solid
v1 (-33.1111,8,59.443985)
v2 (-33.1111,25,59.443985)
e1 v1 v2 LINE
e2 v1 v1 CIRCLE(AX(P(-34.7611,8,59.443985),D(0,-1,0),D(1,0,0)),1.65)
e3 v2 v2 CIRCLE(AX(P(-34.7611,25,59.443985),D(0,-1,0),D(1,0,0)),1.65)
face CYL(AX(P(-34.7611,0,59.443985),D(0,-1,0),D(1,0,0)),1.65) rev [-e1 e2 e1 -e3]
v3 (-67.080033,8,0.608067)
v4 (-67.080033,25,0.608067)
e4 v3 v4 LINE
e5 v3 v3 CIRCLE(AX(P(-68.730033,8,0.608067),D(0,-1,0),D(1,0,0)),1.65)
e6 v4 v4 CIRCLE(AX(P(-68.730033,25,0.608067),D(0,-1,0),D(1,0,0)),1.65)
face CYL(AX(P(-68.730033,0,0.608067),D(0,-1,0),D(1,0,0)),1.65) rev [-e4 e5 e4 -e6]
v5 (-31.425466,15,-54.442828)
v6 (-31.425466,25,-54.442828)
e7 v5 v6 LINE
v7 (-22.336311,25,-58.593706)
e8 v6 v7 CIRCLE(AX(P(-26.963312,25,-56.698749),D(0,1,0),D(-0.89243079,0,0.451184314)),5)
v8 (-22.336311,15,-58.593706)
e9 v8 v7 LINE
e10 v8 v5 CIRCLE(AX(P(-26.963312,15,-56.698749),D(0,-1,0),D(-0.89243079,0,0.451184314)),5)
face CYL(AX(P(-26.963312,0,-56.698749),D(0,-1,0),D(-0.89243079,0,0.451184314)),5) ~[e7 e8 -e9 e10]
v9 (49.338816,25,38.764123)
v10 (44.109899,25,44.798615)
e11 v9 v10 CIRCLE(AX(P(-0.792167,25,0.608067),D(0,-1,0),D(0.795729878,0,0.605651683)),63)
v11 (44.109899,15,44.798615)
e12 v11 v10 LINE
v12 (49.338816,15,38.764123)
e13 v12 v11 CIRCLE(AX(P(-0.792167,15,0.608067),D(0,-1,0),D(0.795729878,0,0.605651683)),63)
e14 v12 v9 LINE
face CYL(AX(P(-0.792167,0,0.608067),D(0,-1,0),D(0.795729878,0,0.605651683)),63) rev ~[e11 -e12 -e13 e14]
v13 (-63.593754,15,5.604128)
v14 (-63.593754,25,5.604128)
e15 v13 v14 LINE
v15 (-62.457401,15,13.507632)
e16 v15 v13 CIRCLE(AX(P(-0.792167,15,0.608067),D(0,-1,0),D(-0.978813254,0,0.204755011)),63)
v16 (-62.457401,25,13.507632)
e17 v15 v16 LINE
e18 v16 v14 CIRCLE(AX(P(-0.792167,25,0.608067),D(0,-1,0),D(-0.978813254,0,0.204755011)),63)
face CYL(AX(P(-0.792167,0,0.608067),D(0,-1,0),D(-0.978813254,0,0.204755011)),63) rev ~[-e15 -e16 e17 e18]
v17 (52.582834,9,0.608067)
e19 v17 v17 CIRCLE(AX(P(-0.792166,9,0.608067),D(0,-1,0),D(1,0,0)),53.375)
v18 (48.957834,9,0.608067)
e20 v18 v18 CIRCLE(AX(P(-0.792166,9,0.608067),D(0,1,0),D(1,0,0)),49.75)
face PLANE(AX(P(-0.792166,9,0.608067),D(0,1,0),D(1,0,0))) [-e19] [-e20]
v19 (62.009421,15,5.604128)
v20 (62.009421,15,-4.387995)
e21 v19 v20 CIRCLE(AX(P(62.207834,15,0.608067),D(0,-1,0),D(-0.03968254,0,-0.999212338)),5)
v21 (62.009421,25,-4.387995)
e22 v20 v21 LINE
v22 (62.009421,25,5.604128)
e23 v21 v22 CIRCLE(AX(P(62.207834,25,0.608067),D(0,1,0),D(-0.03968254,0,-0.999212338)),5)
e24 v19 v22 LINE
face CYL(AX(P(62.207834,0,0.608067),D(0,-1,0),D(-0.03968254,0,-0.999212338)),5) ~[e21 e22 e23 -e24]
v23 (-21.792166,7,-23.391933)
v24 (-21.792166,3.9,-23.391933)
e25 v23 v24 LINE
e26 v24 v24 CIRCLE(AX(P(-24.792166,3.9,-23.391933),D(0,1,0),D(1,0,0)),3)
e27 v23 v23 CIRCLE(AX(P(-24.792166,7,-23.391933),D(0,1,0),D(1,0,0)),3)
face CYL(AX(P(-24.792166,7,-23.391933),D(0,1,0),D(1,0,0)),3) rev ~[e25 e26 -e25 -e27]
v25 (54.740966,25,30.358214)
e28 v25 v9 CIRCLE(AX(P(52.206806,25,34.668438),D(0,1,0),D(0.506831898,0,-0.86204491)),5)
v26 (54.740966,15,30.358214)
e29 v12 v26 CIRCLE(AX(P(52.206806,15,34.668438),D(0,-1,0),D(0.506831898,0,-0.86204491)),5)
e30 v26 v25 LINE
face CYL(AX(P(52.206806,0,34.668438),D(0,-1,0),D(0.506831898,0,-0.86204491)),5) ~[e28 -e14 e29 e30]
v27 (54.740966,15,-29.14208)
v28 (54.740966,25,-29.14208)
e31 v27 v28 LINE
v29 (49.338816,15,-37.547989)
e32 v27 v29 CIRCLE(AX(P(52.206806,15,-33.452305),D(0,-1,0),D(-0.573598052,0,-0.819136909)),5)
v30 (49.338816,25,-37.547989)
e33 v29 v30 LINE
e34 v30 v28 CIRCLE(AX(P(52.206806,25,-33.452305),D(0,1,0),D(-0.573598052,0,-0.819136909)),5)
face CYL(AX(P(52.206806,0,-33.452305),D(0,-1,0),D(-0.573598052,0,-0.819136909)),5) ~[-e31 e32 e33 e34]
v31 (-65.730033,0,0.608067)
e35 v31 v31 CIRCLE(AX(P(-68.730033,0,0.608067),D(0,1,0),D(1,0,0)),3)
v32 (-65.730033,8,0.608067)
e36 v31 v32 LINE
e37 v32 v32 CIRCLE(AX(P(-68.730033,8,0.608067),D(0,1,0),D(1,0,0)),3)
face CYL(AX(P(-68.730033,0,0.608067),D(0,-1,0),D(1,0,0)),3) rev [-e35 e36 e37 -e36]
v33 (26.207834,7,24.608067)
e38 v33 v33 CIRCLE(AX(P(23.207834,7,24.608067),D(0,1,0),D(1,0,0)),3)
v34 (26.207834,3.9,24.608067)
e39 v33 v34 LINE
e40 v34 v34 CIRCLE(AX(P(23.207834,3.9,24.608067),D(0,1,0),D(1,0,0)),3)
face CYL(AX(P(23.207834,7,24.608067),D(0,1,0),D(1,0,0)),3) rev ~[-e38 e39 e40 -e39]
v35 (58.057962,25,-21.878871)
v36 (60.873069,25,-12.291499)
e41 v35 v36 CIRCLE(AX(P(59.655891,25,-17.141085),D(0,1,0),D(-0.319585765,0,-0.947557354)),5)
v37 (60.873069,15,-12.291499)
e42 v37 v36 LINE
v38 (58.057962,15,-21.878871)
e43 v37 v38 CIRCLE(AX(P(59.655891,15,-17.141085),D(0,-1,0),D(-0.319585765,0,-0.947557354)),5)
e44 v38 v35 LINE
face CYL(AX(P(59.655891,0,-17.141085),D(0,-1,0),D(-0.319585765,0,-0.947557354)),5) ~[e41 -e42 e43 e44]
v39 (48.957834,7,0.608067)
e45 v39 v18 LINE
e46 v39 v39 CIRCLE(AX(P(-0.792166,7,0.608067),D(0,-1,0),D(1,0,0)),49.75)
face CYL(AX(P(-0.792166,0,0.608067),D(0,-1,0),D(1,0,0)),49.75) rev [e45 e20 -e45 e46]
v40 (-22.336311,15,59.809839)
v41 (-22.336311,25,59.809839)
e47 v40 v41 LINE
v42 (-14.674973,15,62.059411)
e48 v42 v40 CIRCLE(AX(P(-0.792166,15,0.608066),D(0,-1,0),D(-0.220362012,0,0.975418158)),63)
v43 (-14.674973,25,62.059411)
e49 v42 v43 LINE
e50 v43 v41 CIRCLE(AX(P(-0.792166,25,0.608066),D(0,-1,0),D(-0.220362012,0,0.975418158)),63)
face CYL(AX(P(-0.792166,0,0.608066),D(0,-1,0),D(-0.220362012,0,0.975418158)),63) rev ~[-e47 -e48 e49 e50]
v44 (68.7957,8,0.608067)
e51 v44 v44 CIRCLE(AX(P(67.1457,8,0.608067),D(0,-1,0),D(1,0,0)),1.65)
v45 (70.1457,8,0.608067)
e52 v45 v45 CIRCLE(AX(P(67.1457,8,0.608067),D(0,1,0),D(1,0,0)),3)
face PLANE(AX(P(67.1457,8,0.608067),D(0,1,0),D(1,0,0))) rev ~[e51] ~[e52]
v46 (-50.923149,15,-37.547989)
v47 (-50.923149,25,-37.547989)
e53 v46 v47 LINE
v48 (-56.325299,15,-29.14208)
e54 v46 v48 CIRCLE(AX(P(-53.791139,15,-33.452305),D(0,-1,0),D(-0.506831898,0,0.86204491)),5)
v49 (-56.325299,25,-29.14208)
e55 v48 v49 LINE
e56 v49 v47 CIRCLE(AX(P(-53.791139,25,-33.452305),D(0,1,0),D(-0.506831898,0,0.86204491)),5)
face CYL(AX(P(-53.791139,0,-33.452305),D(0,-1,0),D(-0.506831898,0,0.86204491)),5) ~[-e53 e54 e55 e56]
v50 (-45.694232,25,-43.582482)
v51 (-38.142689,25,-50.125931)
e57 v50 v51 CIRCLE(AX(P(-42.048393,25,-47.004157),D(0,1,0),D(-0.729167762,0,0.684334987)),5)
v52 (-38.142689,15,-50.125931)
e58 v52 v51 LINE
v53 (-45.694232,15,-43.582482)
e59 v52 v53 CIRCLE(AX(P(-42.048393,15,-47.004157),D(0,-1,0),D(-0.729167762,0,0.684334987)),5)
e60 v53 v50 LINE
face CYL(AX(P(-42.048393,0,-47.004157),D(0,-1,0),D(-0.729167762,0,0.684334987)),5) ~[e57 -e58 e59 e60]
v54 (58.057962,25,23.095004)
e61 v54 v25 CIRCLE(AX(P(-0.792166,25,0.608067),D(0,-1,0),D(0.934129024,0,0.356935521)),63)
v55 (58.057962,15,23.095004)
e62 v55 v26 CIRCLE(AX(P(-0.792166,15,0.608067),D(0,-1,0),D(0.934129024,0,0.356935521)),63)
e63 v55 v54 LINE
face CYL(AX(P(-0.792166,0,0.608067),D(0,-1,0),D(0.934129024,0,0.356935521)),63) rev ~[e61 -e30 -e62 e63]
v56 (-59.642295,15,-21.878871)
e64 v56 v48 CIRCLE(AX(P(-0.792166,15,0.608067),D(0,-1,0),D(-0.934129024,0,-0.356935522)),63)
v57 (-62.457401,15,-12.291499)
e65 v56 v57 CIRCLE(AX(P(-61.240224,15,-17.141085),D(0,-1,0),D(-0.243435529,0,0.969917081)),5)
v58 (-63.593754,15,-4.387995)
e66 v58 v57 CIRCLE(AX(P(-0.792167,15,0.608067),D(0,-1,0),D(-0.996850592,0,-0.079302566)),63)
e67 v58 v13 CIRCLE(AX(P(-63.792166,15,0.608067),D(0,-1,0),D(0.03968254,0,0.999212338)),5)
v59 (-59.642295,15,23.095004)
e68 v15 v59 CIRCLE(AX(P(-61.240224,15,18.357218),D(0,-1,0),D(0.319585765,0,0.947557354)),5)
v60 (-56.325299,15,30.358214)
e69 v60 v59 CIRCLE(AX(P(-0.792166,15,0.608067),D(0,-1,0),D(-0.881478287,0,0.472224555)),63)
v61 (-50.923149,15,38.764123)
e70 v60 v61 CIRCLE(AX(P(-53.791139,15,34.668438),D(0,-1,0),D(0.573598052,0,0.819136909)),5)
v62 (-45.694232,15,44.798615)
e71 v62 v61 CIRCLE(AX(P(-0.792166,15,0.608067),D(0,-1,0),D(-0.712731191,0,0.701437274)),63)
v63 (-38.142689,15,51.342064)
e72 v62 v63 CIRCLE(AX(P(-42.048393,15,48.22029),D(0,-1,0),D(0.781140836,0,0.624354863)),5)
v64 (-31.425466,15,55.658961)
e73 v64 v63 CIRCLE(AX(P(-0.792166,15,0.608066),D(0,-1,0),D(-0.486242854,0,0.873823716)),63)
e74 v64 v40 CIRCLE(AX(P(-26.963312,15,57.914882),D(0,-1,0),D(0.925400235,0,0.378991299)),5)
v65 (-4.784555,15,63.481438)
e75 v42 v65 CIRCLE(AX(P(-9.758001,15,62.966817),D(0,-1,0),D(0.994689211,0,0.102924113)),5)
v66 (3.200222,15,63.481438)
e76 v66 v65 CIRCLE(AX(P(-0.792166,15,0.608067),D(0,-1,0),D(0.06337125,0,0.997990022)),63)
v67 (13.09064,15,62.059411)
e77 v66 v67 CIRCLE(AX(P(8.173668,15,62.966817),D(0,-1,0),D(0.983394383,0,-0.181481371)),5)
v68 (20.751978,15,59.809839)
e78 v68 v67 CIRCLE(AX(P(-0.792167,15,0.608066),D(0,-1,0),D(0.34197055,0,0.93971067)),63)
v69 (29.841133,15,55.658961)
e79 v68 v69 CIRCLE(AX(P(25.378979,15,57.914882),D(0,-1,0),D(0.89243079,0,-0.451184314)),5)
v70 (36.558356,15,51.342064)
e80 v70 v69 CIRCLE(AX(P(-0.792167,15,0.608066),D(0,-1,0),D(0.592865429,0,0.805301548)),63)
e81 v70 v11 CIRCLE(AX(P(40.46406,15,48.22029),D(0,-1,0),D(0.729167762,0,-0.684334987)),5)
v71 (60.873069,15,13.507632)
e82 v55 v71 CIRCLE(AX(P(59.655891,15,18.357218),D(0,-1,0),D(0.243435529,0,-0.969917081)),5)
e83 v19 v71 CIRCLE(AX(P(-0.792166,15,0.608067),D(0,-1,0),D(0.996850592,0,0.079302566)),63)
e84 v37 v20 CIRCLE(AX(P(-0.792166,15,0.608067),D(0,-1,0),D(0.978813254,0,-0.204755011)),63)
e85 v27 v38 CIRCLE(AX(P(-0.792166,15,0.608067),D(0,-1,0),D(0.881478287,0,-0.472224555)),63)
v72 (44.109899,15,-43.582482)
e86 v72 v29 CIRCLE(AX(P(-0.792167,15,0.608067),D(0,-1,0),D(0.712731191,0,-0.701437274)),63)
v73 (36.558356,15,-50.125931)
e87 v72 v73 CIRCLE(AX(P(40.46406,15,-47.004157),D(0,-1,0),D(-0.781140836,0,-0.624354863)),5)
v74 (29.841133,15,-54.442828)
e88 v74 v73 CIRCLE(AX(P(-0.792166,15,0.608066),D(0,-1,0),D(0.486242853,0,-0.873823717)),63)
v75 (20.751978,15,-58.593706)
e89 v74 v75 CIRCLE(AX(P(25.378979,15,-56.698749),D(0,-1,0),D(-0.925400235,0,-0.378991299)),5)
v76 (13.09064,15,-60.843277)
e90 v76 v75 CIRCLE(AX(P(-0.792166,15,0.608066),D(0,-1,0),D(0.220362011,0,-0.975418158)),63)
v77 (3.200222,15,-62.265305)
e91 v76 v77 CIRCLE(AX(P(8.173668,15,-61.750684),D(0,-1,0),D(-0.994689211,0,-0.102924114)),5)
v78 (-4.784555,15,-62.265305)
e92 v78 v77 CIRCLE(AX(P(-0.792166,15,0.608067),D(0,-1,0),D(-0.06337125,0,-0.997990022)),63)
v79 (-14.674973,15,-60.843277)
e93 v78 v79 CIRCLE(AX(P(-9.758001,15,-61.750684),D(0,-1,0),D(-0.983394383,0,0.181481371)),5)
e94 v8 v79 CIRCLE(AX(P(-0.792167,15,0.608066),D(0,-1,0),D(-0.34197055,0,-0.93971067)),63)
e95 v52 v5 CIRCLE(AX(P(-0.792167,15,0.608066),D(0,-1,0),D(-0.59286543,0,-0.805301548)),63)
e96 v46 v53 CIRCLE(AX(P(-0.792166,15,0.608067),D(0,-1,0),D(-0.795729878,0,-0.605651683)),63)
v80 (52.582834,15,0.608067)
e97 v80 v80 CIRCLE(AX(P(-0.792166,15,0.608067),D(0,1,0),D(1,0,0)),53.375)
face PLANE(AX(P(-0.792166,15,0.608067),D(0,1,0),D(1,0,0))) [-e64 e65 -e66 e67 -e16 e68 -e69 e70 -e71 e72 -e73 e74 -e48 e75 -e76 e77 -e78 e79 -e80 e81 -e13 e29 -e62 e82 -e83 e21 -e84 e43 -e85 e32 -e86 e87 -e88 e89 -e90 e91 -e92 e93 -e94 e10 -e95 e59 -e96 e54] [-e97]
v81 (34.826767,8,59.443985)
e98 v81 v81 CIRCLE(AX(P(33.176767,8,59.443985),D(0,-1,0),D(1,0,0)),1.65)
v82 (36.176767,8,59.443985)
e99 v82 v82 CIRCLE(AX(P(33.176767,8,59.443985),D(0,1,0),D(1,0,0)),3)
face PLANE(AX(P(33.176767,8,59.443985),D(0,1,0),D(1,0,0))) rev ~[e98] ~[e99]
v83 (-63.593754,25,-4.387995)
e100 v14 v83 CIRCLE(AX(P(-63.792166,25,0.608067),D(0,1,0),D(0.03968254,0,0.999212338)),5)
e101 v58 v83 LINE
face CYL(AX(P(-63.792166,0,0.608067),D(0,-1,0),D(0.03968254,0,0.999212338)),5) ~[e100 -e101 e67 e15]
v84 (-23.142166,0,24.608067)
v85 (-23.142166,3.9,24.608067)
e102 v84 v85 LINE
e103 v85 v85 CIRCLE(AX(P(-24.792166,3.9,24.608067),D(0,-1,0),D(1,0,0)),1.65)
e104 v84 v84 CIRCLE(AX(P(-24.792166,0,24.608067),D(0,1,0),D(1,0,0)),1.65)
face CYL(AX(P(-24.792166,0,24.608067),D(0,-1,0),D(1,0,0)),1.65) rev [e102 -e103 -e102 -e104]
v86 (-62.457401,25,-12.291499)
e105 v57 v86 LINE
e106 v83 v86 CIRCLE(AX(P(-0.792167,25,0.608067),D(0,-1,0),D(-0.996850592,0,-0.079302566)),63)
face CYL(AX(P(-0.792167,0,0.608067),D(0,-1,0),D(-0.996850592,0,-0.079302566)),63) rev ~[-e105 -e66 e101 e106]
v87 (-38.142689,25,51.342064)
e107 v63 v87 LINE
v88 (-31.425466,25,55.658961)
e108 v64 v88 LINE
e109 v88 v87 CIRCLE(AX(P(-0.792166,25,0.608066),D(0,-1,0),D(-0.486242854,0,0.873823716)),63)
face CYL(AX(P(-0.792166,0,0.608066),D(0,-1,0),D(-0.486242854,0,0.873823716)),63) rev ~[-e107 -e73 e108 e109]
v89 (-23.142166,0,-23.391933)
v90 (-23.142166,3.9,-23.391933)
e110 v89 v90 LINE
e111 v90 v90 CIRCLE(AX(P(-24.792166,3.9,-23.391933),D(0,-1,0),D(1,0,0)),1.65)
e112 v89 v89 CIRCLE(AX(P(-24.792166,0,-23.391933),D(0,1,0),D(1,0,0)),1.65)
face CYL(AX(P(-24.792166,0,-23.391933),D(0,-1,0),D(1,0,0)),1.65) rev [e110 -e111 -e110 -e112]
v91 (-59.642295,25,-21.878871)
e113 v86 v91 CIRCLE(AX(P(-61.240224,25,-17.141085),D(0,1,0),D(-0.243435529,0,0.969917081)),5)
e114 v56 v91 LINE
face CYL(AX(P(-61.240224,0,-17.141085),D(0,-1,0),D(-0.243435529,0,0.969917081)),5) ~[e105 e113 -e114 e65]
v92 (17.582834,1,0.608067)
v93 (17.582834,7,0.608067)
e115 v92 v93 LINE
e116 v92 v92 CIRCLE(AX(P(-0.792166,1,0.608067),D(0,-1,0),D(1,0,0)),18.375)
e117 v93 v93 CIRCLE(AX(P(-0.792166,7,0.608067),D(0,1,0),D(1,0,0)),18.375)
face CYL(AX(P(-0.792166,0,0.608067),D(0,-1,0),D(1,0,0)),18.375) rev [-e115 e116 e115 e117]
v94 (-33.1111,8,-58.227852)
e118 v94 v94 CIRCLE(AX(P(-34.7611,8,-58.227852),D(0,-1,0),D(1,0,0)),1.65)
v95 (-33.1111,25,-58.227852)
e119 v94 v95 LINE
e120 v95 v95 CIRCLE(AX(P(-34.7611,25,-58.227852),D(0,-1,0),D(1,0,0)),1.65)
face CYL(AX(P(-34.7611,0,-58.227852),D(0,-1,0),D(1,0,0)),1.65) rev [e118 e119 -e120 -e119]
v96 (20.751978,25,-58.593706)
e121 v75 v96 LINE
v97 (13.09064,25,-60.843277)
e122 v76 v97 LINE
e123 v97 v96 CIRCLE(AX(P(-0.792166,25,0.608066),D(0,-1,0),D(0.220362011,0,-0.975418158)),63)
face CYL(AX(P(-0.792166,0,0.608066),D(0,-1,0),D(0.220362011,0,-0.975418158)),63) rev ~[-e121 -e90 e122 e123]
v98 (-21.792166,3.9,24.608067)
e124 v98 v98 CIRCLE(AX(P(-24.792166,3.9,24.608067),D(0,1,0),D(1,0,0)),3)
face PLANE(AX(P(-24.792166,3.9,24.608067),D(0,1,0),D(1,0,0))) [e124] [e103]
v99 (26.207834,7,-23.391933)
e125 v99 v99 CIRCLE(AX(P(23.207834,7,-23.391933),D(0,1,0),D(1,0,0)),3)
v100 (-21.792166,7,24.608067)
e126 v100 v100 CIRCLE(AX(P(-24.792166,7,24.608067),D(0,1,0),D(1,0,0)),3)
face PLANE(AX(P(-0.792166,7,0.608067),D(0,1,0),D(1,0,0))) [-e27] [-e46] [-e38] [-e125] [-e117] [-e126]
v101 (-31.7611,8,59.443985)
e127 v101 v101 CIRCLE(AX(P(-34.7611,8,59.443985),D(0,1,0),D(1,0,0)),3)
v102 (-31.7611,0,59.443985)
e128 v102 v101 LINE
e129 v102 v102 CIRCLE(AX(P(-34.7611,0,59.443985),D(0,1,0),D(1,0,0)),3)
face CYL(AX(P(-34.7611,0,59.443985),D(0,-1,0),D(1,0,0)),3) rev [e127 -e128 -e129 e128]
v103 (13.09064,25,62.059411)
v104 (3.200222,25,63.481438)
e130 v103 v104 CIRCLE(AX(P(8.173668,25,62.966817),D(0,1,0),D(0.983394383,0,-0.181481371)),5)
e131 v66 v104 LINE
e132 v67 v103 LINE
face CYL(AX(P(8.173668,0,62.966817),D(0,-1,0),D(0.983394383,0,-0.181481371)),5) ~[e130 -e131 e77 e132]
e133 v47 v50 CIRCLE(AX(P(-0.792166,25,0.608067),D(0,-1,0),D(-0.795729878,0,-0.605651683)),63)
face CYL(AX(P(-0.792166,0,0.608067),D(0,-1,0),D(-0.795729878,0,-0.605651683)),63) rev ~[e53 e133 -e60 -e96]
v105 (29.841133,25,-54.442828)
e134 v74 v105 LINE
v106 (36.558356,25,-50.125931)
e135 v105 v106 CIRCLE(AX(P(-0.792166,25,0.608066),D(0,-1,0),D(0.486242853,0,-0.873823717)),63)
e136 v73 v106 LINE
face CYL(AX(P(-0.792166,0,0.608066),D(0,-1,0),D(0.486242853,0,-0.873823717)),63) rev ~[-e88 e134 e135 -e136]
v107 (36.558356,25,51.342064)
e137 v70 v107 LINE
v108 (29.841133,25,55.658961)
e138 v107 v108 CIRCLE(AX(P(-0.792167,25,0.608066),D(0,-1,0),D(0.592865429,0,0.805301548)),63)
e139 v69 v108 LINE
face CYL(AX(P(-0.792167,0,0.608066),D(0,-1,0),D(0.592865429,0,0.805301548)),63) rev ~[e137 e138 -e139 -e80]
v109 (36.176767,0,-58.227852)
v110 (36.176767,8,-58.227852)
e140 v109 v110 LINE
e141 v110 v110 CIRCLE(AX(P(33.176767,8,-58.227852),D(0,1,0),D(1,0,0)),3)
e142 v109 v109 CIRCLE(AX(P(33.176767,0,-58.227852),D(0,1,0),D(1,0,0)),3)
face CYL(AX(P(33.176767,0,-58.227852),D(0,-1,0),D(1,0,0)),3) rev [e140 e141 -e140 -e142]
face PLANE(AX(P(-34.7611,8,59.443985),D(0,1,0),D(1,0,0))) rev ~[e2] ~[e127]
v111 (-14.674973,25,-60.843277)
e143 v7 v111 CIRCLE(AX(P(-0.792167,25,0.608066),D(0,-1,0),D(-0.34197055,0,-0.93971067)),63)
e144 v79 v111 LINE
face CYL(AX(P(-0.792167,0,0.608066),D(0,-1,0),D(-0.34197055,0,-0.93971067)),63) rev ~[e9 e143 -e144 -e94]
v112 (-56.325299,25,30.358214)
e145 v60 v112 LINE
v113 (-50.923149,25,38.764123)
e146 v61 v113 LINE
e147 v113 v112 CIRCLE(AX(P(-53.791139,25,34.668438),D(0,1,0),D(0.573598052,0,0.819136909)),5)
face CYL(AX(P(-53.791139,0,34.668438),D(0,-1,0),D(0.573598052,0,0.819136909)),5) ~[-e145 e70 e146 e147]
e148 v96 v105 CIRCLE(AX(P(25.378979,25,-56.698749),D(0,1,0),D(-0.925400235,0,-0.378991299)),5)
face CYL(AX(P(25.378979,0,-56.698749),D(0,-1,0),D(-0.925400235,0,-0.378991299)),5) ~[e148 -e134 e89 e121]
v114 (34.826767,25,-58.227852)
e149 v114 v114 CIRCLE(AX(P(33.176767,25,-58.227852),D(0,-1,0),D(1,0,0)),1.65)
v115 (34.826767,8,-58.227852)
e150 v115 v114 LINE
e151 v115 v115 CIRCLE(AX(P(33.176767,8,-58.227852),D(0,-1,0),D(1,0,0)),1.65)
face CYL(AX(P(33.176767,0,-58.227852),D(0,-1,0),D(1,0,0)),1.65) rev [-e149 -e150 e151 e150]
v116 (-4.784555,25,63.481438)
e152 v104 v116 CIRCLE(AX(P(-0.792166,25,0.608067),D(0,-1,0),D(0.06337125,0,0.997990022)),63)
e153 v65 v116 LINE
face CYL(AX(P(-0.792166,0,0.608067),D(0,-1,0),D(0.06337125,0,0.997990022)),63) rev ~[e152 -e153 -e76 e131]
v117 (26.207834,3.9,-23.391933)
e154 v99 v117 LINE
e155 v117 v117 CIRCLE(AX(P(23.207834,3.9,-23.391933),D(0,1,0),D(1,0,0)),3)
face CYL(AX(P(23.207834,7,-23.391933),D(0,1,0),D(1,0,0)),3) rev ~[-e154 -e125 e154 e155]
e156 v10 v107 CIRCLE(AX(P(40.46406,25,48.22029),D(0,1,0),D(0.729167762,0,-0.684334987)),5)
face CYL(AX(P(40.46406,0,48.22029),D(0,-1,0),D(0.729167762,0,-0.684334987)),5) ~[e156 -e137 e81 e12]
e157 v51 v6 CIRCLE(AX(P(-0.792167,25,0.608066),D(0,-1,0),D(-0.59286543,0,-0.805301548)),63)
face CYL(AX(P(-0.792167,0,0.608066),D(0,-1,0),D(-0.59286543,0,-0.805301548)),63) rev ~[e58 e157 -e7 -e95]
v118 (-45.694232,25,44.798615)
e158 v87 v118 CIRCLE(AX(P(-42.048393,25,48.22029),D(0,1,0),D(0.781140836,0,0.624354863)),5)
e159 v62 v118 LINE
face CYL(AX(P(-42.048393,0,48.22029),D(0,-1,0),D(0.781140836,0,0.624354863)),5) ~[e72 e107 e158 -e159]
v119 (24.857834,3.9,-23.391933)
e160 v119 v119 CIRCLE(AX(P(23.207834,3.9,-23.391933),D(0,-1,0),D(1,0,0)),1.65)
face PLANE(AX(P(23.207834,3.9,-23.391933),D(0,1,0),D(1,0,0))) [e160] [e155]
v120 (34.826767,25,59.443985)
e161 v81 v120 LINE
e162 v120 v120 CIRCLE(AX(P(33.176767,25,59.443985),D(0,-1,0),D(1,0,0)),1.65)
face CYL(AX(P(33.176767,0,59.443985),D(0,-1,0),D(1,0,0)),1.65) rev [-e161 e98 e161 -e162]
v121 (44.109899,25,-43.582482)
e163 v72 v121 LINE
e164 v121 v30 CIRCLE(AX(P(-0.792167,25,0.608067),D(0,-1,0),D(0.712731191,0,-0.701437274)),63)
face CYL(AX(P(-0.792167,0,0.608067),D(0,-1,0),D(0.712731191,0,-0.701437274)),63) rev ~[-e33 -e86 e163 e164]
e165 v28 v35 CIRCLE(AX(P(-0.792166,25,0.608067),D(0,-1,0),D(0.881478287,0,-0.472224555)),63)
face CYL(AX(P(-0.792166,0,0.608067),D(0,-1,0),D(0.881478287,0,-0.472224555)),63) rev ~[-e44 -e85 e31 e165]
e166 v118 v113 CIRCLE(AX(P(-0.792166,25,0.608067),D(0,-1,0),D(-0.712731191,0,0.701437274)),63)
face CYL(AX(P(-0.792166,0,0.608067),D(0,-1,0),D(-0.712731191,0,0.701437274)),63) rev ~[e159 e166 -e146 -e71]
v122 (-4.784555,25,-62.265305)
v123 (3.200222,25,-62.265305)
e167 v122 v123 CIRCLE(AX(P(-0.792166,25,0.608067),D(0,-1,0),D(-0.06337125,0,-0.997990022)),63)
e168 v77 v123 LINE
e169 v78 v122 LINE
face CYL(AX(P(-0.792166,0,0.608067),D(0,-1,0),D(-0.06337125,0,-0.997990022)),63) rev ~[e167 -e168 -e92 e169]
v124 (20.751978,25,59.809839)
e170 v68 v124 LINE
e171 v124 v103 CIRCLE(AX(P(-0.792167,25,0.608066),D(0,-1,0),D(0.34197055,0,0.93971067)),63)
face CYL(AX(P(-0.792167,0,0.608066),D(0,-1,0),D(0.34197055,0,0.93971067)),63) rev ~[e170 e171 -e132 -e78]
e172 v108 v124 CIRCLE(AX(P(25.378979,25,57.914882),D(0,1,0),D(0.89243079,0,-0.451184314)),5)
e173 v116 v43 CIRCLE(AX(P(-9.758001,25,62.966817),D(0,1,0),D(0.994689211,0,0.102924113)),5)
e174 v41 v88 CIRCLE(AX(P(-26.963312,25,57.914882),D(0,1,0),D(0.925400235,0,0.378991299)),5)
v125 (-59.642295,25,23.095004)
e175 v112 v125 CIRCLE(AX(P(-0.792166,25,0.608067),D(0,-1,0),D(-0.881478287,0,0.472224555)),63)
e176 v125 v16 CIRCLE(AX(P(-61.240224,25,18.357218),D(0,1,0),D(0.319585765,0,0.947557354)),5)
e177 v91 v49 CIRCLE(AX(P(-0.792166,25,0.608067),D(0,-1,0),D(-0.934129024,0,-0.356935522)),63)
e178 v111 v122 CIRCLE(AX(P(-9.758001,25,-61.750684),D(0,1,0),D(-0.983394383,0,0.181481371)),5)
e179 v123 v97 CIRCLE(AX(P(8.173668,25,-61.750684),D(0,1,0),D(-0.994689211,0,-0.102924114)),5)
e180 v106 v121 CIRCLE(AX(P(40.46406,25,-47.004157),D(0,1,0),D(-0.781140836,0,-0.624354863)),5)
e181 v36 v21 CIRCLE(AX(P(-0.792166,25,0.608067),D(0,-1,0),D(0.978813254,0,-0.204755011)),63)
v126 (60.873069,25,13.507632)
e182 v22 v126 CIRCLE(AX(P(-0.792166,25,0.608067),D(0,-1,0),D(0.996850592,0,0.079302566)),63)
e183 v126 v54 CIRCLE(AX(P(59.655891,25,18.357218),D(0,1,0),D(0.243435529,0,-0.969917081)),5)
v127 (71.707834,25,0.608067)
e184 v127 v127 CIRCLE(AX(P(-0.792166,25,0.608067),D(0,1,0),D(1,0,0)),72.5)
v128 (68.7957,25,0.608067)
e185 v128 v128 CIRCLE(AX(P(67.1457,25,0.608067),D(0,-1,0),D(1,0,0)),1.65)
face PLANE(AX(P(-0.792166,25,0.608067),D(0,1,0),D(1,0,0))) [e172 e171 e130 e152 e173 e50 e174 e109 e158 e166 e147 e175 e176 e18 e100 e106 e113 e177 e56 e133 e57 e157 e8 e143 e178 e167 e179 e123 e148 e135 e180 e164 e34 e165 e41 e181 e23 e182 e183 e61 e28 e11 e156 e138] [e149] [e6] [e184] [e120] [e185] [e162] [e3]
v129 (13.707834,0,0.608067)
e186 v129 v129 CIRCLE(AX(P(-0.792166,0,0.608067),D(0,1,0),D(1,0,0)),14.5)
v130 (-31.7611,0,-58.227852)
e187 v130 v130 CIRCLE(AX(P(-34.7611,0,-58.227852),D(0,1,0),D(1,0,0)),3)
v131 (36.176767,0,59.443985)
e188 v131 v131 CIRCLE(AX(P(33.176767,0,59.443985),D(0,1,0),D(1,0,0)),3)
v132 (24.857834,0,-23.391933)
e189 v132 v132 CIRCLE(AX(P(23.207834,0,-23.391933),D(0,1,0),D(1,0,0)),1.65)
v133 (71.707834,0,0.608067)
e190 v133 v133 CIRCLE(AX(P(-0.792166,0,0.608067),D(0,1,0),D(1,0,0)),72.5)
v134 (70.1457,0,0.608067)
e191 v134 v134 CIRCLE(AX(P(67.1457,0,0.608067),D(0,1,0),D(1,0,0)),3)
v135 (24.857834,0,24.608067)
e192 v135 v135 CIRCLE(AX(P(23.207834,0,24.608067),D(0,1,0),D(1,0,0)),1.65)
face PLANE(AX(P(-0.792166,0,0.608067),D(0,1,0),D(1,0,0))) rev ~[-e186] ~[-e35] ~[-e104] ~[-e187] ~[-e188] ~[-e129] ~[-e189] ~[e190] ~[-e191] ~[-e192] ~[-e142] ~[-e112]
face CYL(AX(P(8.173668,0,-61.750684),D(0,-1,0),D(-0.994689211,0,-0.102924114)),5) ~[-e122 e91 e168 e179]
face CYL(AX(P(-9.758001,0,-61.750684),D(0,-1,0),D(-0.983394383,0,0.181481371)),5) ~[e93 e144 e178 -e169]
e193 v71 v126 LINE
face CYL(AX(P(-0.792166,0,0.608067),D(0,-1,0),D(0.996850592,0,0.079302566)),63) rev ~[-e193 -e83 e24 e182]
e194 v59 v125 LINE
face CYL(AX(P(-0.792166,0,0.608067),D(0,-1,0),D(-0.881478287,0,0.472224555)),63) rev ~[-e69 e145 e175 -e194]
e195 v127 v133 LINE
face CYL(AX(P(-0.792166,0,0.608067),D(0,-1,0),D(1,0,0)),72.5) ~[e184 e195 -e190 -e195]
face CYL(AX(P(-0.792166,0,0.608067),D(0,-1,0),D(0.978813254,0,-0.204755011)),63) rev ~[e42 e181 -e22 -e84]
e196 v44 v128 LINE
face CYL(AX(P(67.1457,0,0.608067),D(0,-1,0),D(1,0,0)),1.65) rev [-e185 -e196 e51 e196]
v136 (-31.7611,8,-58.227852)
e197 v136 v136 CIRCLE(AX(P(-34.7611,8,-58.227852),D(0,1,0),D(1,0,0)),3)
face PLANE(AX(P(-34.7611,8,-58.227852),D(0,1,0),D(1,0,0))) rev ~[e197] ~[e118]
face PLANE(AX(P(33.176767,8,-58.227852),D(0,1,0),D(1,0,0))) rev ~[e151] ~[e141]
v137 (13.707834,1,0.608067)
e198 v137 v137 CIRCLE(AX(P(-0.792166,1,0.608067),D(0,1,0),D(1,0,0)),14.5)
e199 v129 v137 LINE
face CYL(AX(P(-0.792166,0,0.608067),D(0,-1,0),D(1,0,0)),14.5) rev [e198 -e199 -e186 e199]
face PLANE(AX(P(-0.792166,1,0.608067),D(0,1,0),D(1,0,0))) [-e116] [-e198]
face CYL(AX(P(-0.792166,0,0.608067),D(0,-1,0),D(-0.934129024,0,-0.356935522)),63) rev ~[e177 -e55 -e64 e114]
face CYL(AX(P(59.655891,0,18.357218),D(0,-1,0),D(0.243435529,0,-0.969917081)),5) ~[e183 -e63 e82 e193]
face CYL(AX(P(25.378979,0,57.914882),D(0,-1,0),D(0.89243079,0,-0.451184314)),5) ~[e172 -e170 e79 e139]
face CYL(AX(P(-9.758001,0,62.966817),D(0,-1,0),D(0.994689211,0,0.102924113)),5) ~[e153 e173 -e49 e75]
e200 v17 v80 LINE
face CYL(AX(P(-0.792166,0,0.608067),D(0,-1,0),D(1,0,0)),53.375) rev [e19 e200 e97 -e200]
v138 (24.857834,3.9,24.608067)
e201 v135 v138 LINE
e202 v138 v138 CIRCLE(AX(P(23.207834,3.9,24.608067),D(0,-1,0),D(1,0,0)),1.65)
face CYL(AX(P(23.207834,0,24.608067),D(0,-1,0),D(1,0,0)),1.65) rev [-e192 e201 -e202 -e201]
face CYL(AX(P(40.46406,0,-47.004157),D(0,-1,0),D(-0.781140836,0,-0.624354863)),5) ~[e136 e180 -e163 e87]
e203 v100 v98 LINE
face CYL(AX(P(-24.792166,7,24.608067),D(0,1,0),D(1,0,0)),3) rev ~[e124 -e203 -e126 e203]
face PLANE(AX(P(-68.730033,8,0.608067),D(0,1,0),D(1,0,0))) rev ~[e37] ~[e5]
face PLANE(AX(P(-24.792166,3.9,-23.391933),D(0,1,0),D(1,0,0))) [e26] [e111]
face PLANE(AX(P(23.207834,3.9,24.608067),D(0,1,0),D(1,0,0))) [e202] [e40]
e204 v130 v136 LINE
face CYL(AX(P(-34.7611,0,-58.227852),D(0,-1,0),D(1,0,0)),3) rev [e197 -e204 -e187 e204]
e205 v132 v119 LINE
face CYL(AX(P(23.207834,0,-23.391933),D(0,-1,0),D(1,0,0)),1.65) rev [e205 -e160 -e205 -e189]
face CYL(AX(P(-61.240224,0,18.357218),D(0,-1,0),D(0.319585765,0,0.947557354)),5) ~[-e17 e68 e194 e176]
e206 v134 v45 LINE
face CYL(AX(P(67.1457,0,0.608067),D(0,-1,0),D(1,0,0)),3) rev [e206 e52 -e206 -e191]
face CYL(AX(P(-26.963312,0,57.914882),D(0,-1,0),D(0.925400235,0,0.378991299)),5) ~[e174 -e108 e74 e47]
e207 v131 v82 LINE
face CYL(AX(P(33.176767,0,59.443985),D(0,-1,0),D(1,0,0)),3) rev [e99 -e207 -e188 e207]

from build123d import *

# Parameters (mm, degrees)
SKETCH1_R           = 72.5
BOSS_EXTRUDE1_DEPTH = 25
SKETCH1_4_R         = 72.5
SKETCH1_4_R_2       = 14.5
BOSS_EXTRUDE2_DEPTH = 1
SKETCH1_5_R         = 72.5
SKETCH1_5_R_2       = 18.375
BOSS_EXTRUDE3_DEPTH = 7
SKETCH1_8_R         = 72.5
SKETCH1_8_R_2       = 49.75
BOSS_EXTRUDE5_DEPTH = 9
SKETCH1_10_R        = 72.5
SKETCH1_10_R_2      = 53.375
BOSS_EXTRUDE6_DEPTH = 15
SKETCH1_11_R        = 1.65
CUT_EXTRUDE1_DEPTH  = 26
SKETCH1_12_R        = 3
CUT_EXTRUDE2_DEPTH  = 8
SKETCH1_15_R        = 1.65
CUT_EXTRUDE3_DEPTH  = 20
CUT_EXTRUDE4_START  = 7
SKETCH1_16_R        = 3
CUT_EXTRUDE4_DEPTH  = 3.1


with BuildPart() as part:
    # Sketch1 → Boss-Extrude1 (new body)
    with BuildSketch(Plane(origin=(0, 0, 0), x_dir=(1, 0, 0), z_dir=(0, 1, 0))):
        with Locations((-0.792166463, -0.608066556)):
            Circle(SKETCH1_R)
        with BuildLine():
            ThreePointArc((-63.593753764, -5.604128245), (-58.792166463, -0.608066556), (-63.593753764, 4.387995133))
            ThreePointArc((-63.593753764, 4.387995133), (-63.150917301, 8.357768256), (-62.457401444, 12.291499122))
            ThreePointArc((-62.457401444, 12.291499122), (-56.442758932, 15.732421741), (-59.642294977, 21.878871295))
            ThreePointArc((-59.642294977, 21.878871295), (-58.09898217, 25.563079263), (-56.325298523, 29.142080394))
            ThreePointArc((-56.325298523, 29.142080394), (-49.584871367, 30.749100857), (-50.923148772, 37.547989487))
            ThreePointArc((-50.923148772, 37.547989487), (-48.404389647, 40.648159683), (-45.694231511, 43.582481692))
            ThreePointArc((-45.694231511, 43.582481692), (-38.774089031, 43.225408757), (-38.142688521, 50.125930941))
            ThreePointArc((-38.142688521, 50.125930941), (-34.852537962, 52.390906013), (-31.425466231, 54.442827581))
            ThreePointArc((-31.425466231, 54.442827581), (-24.886237217, 52.150589175), (-22.336311105, 58.593705644))
            ThreePointArc((-22.336311105, 58.593705644), (-18.541317544, 59.839990782), (-14.674973188, 60.843277428))
            ThreePointArc((-14.674973188, 60.843277428), (-9.046427083, 56.801577073), (-4.784555218, 62.265304851))
            ThreePointArc((-4.784555218, 62.265304851), (-0.792166463, 62.391933444), (3.200222293, 62.265304851))
            ThreePointArc((3.200222293, 62.265304851), (7.462094157, 56.801577073), (13.090640262, 60.843277428))
            ThreePointArc((13.090640262, 60.843277428), (16.956984618, 59.839990782), (20.75197818, 58.593705644))
            ThreePointArc((20.75197818, 58.593705644), (23.301904291, 52.150589175), (29.841133306, 54.442827581))
            ThreePointArc((29.841133306, 54.442827581), (33.268205037, 52.390906013), (36.558355596, 50.125930941))
            ThreePointArc((36.558355596, 50.125930941), (37.189756106, 43.225408757), (44.109898586, 43.582481692))
            ThreePointArc((44.109898586, 43.582481692), (46.820056722, 40.648159683), (49.338815847, 37.547989487))
            ThreePointArc((49.338815847, 37.547989487), (48.000538442, 30.749100857), (54.740965598, 29.142080394))
            ThreePointArc((54.740965598, 29.142080394), (56.514649245, 25.563079263), (58.057962051, 21.878871295))
            ThreePointArc((58.057962051, 21.878871295), (54.858426007, 15.732421741), (60.873068519, 12.291499122))
            ThreePointArc((60.873068519, 12.291499122), (61.566584376, 8.357768256), (62.009420839, 4.387995133))
            ThreePointArc((62.009420839, 4.387995133), (57.207833537, -0.608066556), (62.009420839, -5.604128245))
            ThreePointArc((62.009420839, -5.604128245), (61.566584376, -9.573901367), (60.873068519, -13.507632233))
            ThreePointArc((60.873068519, -13.507632233), (54.858426007, -16.948554852), (58.057962051, -23.095004406))
            ThreePointArc((58.057962051, -23.095004406), (56.514649245, -26.779212375), (54.740965598, -30.358213506))
            ThreePointArc((54.740965598, -30.358213506), (48.000538442, -31.965233968), (49.338815847, -38.764122598))
            ThreePointArc((49.338815847, -38.764122598), (46.820056722, -41.864292794), (44.109898586, -44.798614803))
            ThreePointArc((44.109898586, -44.798614803), (37.189756106, -44.441541868), (36.558355596, -51.342064052))
            ThreePointArc((36.558355596, -51.342064052), (33.268205037, -53.607039124), (29.841133306, -55.658960693))
            ThreePointArc((29.841133306, -55.658960693), (23.301904291, -53.366722286), (20.75197818, -59.809838756))
            ThreePointArc((20.75197818, -59.809838756), (16.956984618, -61.056123893), (13.090640262, -62.05941054))
            ThreePointArc((13.090640262, -62.05941054), (7.462094157, -58.017710185), (3.200222293, -63.481437962))
            ThreePointArc((3.200222293, -63.481437962), (-0.792166463, -63.608066556), (-4.784555218, -63.481437962))
            ThreePointArc((-4.784555218, -63.481437962), (-9.046427083, -58.017710185), (-14.674973188, -62.05941054))
            ThreePointArc((-14.674973188, -62.05941054), (-18.541317544, -61.056123893), (-22.336311105, -59.809838756))
            ThreePointArc((-22.336311105, -59.809838756), (-24.886237217, -53.366722286), (-31.425466231, -55.658960693))
            ThreePointArc((-31.425466231, -55.658960693), (-34.852537962, -53.607039124), (-38.142688521, -51.342064052))
            ThreePointArc((-38.142688521, -51.342064052), (-38.774089031, -44.441541868), (-45.694231511, -44.798614803))
            ThreePointArc((-45.694231511, -44.798614803), (-48.404389647, -41.864292794), (-50.923148772, -38.764122598))
            ThreePointArc((-50.923148772, -38.764122598), (-49.584871367, -31.965233968), (-56.325298523, -30.358213506))
            ThreePointArc((-56.325298523, -30.358213506), (-58.09898217, -26.779212375), (-59.642294977, -23.095004406))
            ThreePointArc((-59.642294977, -23.095004406), (-56.442758932, -16.948554852), (-62.457401444, -13.507632233))
            ThreePointArc((-62.457401444, -13.507632233), (-63.150917301, -9.573901367), (-63.593753764, -5.604128245))
        make_face(mode=Mode.SUBTRACT)
    extrude(amount=BOSS_EXTRUDE1_DEPTH)

    # Sketch1<4> → Boss-Extrude2 (add)
    with BuildSketch(Plane(origin=(0, 0, 0), x_dir=(1, 0, 0), z_dir=(0, 1, 0))):
        with Locations((-0.792166463, -0.608066556)):
            Circle(SKETCH1_4_R)
        with Locations((-0.792166463, -0.608066556)):
            Circle(SKETCH1_4_R_2, mode=Mode.SUBTRACT)
    extrude(amount=BOSS_EXTRUDE2_DEPTH)

    # Sketch1<5> → Boss-Extrude3 (add)
    with BuildSketch(Plane(origin=(0, 0, 0), x_dir=(1, 0, 0), z_dir=(0, 1, 0))):
        with Locations((-0.792166463, -0.608066556)):
            Circle(SKETCH1_5_R)
        with Locations((-0.792166463, -0.608066556)):
            Circle(SKETCH1_5_R_2, mode=Mode.SUBTRACT)
    extrude(amount=BOSS_EXTRUDE3_DEPTH)

    # Sketch1<8> → Boss-Extrude5 (add)
    with BuildSketch(Plane(origin=(0, 0, 0), x_dir=(1, 0, 0), z_dir=(0, 1, 0))):
        with Locations((-0.792166463, -0.608066556)):
            Circle(SKETCH1_8_R)
        with Locations((-0.792166463, -0.608066556)):
            Circle(SKETCH1_8_R_2, mode=Mode.SUBTRACT)
    extrude(amount=BOSS_EXTRUDE5_DEPTH)

    # Sketch1<10> → Boss-Extrude6 (add)
    with BuildSketch(Plane(origin=(0, 0, 0), x_dir=(1, 0, 0), z_dir=(0, 1, 0))):
        with Locations((-0.792166463, -0.608066556)):
            Circle(SKETCH1_10_R)
        with Locations((-0.792166463, -0.608066556)):
            Circle(SKETCH1_10_R_2, mode=Mode.SUBTRACT)
    extrude(amount=BOSS_EXTRUDE6_DEPTH)

    # Sketch1<11> → Cut-Extrude1 (cut, through all)
    with BuildSketch(Plane(origin=(0, 0, 0), x_dir=(1, 0, 0), z_dir=(0, 1, 0))):
        with Locations((-68.730033322, -0.608066556)):
            Circle(SKETCH1_11_R)
        with Locations((-34.761099892, 58.227852024)):
            Circle(SKETCH1_11_R)
        with Locations((33.176766967, 58.227852024)):
            Circle(SKETCH1_11_R)
        with Locations((67.145700397, -0.608066556)):
            Circle(SKETCH1_11_R)
        with Locations((33.176766967, -59.443985135)):
            Circle(SKETCH1_11_R)
        with Locations((-34.761099892, -59.443985135)):
            Circle(SKETCH1_11_R)
    extrude(amount=CUT_EXTRUDE1_DEPTH, mode=Mode.SUBTRACT)

    # Sketch1<12> → Cut-Extrude2 (cut)
    with BuildSketch(Plane(origin=(0, 0, 0), x_dir=(1, 0, 0), z_dir=(0, 1, 0))):
        with Locations((-68.730033322, -0.608066556)):
            Circle(SKETCH1_12_R)
        with Locations((-34.761099892, 58.227852024)):
            Circle(SKETCH1_12_R)
        with Locations((33.176766967, 58.227852024)):
            Circle(SKETCH1_12_R)
        with Locations((67.145700397, -0.608066556)):
            Circle(SKETCH1_12_R)
        with Locations((33.176766967, -59.443985135)):
            Circle(SKETCH1_12_R)
        with Locations((-34.761099892, -59.443985135)):
            Circle(SKETCH1_12_R)
    extrude(amount=CUT_EXTRUDE2_DEPTH, mode=Mode.SUBTRACT)

    # Sketch1<15> → Cut-Extrude3 (cut)
    with BuildSketch(Plane(origin=(0, 0, 0), x_dir=(1, 0, 0), z_dir=(0, 1, 0))):
        with Locations((-24.792166462, 23.391933444)):
            Circle(SKETCH1_15_R)
        with Locations((23.207833537, 23.391933444)):
            Circle(SKETCH1_15_R)
        with Locations((23.207833537, -24.608066556)):
            Circle(SKETCH1_15_R)
        with Locations((-24.792166463, -24.608066555)):
            Circle(SKETCH1_15_R)
    extrude(amount=CUT_EXTRUDE3_DEPTH, mode=Mode.SUBTRACT)

    # Sketch1<16> → Cut-Extrude4 (cut)
    with BuildSketch(Plane(origin=(0, 0, 0), x_dir=(1, 0, 0), z_dir=(0, 1, 0)).offset(CUT_EXTRUDE4_START)):
        with Locations((-24.792166462, 23.391933444)):
            Circle(SKETCH1_16_R)
        with Locations((23.207833537, 23.391933444)):
            Circle(SKETCH1_16_R)
        with Locations((23.207833537, -24.608066556)):
            Circle(SKETCH1_16_R)
        with Locations((-24.792166463, -24.608066555)):
            Circle(SKETCH1_16_R)
    extrude(amount=-CUT_EXTRUDE4_DEPTH, mode=Mode.SUBTRACT)


solid = part.part
